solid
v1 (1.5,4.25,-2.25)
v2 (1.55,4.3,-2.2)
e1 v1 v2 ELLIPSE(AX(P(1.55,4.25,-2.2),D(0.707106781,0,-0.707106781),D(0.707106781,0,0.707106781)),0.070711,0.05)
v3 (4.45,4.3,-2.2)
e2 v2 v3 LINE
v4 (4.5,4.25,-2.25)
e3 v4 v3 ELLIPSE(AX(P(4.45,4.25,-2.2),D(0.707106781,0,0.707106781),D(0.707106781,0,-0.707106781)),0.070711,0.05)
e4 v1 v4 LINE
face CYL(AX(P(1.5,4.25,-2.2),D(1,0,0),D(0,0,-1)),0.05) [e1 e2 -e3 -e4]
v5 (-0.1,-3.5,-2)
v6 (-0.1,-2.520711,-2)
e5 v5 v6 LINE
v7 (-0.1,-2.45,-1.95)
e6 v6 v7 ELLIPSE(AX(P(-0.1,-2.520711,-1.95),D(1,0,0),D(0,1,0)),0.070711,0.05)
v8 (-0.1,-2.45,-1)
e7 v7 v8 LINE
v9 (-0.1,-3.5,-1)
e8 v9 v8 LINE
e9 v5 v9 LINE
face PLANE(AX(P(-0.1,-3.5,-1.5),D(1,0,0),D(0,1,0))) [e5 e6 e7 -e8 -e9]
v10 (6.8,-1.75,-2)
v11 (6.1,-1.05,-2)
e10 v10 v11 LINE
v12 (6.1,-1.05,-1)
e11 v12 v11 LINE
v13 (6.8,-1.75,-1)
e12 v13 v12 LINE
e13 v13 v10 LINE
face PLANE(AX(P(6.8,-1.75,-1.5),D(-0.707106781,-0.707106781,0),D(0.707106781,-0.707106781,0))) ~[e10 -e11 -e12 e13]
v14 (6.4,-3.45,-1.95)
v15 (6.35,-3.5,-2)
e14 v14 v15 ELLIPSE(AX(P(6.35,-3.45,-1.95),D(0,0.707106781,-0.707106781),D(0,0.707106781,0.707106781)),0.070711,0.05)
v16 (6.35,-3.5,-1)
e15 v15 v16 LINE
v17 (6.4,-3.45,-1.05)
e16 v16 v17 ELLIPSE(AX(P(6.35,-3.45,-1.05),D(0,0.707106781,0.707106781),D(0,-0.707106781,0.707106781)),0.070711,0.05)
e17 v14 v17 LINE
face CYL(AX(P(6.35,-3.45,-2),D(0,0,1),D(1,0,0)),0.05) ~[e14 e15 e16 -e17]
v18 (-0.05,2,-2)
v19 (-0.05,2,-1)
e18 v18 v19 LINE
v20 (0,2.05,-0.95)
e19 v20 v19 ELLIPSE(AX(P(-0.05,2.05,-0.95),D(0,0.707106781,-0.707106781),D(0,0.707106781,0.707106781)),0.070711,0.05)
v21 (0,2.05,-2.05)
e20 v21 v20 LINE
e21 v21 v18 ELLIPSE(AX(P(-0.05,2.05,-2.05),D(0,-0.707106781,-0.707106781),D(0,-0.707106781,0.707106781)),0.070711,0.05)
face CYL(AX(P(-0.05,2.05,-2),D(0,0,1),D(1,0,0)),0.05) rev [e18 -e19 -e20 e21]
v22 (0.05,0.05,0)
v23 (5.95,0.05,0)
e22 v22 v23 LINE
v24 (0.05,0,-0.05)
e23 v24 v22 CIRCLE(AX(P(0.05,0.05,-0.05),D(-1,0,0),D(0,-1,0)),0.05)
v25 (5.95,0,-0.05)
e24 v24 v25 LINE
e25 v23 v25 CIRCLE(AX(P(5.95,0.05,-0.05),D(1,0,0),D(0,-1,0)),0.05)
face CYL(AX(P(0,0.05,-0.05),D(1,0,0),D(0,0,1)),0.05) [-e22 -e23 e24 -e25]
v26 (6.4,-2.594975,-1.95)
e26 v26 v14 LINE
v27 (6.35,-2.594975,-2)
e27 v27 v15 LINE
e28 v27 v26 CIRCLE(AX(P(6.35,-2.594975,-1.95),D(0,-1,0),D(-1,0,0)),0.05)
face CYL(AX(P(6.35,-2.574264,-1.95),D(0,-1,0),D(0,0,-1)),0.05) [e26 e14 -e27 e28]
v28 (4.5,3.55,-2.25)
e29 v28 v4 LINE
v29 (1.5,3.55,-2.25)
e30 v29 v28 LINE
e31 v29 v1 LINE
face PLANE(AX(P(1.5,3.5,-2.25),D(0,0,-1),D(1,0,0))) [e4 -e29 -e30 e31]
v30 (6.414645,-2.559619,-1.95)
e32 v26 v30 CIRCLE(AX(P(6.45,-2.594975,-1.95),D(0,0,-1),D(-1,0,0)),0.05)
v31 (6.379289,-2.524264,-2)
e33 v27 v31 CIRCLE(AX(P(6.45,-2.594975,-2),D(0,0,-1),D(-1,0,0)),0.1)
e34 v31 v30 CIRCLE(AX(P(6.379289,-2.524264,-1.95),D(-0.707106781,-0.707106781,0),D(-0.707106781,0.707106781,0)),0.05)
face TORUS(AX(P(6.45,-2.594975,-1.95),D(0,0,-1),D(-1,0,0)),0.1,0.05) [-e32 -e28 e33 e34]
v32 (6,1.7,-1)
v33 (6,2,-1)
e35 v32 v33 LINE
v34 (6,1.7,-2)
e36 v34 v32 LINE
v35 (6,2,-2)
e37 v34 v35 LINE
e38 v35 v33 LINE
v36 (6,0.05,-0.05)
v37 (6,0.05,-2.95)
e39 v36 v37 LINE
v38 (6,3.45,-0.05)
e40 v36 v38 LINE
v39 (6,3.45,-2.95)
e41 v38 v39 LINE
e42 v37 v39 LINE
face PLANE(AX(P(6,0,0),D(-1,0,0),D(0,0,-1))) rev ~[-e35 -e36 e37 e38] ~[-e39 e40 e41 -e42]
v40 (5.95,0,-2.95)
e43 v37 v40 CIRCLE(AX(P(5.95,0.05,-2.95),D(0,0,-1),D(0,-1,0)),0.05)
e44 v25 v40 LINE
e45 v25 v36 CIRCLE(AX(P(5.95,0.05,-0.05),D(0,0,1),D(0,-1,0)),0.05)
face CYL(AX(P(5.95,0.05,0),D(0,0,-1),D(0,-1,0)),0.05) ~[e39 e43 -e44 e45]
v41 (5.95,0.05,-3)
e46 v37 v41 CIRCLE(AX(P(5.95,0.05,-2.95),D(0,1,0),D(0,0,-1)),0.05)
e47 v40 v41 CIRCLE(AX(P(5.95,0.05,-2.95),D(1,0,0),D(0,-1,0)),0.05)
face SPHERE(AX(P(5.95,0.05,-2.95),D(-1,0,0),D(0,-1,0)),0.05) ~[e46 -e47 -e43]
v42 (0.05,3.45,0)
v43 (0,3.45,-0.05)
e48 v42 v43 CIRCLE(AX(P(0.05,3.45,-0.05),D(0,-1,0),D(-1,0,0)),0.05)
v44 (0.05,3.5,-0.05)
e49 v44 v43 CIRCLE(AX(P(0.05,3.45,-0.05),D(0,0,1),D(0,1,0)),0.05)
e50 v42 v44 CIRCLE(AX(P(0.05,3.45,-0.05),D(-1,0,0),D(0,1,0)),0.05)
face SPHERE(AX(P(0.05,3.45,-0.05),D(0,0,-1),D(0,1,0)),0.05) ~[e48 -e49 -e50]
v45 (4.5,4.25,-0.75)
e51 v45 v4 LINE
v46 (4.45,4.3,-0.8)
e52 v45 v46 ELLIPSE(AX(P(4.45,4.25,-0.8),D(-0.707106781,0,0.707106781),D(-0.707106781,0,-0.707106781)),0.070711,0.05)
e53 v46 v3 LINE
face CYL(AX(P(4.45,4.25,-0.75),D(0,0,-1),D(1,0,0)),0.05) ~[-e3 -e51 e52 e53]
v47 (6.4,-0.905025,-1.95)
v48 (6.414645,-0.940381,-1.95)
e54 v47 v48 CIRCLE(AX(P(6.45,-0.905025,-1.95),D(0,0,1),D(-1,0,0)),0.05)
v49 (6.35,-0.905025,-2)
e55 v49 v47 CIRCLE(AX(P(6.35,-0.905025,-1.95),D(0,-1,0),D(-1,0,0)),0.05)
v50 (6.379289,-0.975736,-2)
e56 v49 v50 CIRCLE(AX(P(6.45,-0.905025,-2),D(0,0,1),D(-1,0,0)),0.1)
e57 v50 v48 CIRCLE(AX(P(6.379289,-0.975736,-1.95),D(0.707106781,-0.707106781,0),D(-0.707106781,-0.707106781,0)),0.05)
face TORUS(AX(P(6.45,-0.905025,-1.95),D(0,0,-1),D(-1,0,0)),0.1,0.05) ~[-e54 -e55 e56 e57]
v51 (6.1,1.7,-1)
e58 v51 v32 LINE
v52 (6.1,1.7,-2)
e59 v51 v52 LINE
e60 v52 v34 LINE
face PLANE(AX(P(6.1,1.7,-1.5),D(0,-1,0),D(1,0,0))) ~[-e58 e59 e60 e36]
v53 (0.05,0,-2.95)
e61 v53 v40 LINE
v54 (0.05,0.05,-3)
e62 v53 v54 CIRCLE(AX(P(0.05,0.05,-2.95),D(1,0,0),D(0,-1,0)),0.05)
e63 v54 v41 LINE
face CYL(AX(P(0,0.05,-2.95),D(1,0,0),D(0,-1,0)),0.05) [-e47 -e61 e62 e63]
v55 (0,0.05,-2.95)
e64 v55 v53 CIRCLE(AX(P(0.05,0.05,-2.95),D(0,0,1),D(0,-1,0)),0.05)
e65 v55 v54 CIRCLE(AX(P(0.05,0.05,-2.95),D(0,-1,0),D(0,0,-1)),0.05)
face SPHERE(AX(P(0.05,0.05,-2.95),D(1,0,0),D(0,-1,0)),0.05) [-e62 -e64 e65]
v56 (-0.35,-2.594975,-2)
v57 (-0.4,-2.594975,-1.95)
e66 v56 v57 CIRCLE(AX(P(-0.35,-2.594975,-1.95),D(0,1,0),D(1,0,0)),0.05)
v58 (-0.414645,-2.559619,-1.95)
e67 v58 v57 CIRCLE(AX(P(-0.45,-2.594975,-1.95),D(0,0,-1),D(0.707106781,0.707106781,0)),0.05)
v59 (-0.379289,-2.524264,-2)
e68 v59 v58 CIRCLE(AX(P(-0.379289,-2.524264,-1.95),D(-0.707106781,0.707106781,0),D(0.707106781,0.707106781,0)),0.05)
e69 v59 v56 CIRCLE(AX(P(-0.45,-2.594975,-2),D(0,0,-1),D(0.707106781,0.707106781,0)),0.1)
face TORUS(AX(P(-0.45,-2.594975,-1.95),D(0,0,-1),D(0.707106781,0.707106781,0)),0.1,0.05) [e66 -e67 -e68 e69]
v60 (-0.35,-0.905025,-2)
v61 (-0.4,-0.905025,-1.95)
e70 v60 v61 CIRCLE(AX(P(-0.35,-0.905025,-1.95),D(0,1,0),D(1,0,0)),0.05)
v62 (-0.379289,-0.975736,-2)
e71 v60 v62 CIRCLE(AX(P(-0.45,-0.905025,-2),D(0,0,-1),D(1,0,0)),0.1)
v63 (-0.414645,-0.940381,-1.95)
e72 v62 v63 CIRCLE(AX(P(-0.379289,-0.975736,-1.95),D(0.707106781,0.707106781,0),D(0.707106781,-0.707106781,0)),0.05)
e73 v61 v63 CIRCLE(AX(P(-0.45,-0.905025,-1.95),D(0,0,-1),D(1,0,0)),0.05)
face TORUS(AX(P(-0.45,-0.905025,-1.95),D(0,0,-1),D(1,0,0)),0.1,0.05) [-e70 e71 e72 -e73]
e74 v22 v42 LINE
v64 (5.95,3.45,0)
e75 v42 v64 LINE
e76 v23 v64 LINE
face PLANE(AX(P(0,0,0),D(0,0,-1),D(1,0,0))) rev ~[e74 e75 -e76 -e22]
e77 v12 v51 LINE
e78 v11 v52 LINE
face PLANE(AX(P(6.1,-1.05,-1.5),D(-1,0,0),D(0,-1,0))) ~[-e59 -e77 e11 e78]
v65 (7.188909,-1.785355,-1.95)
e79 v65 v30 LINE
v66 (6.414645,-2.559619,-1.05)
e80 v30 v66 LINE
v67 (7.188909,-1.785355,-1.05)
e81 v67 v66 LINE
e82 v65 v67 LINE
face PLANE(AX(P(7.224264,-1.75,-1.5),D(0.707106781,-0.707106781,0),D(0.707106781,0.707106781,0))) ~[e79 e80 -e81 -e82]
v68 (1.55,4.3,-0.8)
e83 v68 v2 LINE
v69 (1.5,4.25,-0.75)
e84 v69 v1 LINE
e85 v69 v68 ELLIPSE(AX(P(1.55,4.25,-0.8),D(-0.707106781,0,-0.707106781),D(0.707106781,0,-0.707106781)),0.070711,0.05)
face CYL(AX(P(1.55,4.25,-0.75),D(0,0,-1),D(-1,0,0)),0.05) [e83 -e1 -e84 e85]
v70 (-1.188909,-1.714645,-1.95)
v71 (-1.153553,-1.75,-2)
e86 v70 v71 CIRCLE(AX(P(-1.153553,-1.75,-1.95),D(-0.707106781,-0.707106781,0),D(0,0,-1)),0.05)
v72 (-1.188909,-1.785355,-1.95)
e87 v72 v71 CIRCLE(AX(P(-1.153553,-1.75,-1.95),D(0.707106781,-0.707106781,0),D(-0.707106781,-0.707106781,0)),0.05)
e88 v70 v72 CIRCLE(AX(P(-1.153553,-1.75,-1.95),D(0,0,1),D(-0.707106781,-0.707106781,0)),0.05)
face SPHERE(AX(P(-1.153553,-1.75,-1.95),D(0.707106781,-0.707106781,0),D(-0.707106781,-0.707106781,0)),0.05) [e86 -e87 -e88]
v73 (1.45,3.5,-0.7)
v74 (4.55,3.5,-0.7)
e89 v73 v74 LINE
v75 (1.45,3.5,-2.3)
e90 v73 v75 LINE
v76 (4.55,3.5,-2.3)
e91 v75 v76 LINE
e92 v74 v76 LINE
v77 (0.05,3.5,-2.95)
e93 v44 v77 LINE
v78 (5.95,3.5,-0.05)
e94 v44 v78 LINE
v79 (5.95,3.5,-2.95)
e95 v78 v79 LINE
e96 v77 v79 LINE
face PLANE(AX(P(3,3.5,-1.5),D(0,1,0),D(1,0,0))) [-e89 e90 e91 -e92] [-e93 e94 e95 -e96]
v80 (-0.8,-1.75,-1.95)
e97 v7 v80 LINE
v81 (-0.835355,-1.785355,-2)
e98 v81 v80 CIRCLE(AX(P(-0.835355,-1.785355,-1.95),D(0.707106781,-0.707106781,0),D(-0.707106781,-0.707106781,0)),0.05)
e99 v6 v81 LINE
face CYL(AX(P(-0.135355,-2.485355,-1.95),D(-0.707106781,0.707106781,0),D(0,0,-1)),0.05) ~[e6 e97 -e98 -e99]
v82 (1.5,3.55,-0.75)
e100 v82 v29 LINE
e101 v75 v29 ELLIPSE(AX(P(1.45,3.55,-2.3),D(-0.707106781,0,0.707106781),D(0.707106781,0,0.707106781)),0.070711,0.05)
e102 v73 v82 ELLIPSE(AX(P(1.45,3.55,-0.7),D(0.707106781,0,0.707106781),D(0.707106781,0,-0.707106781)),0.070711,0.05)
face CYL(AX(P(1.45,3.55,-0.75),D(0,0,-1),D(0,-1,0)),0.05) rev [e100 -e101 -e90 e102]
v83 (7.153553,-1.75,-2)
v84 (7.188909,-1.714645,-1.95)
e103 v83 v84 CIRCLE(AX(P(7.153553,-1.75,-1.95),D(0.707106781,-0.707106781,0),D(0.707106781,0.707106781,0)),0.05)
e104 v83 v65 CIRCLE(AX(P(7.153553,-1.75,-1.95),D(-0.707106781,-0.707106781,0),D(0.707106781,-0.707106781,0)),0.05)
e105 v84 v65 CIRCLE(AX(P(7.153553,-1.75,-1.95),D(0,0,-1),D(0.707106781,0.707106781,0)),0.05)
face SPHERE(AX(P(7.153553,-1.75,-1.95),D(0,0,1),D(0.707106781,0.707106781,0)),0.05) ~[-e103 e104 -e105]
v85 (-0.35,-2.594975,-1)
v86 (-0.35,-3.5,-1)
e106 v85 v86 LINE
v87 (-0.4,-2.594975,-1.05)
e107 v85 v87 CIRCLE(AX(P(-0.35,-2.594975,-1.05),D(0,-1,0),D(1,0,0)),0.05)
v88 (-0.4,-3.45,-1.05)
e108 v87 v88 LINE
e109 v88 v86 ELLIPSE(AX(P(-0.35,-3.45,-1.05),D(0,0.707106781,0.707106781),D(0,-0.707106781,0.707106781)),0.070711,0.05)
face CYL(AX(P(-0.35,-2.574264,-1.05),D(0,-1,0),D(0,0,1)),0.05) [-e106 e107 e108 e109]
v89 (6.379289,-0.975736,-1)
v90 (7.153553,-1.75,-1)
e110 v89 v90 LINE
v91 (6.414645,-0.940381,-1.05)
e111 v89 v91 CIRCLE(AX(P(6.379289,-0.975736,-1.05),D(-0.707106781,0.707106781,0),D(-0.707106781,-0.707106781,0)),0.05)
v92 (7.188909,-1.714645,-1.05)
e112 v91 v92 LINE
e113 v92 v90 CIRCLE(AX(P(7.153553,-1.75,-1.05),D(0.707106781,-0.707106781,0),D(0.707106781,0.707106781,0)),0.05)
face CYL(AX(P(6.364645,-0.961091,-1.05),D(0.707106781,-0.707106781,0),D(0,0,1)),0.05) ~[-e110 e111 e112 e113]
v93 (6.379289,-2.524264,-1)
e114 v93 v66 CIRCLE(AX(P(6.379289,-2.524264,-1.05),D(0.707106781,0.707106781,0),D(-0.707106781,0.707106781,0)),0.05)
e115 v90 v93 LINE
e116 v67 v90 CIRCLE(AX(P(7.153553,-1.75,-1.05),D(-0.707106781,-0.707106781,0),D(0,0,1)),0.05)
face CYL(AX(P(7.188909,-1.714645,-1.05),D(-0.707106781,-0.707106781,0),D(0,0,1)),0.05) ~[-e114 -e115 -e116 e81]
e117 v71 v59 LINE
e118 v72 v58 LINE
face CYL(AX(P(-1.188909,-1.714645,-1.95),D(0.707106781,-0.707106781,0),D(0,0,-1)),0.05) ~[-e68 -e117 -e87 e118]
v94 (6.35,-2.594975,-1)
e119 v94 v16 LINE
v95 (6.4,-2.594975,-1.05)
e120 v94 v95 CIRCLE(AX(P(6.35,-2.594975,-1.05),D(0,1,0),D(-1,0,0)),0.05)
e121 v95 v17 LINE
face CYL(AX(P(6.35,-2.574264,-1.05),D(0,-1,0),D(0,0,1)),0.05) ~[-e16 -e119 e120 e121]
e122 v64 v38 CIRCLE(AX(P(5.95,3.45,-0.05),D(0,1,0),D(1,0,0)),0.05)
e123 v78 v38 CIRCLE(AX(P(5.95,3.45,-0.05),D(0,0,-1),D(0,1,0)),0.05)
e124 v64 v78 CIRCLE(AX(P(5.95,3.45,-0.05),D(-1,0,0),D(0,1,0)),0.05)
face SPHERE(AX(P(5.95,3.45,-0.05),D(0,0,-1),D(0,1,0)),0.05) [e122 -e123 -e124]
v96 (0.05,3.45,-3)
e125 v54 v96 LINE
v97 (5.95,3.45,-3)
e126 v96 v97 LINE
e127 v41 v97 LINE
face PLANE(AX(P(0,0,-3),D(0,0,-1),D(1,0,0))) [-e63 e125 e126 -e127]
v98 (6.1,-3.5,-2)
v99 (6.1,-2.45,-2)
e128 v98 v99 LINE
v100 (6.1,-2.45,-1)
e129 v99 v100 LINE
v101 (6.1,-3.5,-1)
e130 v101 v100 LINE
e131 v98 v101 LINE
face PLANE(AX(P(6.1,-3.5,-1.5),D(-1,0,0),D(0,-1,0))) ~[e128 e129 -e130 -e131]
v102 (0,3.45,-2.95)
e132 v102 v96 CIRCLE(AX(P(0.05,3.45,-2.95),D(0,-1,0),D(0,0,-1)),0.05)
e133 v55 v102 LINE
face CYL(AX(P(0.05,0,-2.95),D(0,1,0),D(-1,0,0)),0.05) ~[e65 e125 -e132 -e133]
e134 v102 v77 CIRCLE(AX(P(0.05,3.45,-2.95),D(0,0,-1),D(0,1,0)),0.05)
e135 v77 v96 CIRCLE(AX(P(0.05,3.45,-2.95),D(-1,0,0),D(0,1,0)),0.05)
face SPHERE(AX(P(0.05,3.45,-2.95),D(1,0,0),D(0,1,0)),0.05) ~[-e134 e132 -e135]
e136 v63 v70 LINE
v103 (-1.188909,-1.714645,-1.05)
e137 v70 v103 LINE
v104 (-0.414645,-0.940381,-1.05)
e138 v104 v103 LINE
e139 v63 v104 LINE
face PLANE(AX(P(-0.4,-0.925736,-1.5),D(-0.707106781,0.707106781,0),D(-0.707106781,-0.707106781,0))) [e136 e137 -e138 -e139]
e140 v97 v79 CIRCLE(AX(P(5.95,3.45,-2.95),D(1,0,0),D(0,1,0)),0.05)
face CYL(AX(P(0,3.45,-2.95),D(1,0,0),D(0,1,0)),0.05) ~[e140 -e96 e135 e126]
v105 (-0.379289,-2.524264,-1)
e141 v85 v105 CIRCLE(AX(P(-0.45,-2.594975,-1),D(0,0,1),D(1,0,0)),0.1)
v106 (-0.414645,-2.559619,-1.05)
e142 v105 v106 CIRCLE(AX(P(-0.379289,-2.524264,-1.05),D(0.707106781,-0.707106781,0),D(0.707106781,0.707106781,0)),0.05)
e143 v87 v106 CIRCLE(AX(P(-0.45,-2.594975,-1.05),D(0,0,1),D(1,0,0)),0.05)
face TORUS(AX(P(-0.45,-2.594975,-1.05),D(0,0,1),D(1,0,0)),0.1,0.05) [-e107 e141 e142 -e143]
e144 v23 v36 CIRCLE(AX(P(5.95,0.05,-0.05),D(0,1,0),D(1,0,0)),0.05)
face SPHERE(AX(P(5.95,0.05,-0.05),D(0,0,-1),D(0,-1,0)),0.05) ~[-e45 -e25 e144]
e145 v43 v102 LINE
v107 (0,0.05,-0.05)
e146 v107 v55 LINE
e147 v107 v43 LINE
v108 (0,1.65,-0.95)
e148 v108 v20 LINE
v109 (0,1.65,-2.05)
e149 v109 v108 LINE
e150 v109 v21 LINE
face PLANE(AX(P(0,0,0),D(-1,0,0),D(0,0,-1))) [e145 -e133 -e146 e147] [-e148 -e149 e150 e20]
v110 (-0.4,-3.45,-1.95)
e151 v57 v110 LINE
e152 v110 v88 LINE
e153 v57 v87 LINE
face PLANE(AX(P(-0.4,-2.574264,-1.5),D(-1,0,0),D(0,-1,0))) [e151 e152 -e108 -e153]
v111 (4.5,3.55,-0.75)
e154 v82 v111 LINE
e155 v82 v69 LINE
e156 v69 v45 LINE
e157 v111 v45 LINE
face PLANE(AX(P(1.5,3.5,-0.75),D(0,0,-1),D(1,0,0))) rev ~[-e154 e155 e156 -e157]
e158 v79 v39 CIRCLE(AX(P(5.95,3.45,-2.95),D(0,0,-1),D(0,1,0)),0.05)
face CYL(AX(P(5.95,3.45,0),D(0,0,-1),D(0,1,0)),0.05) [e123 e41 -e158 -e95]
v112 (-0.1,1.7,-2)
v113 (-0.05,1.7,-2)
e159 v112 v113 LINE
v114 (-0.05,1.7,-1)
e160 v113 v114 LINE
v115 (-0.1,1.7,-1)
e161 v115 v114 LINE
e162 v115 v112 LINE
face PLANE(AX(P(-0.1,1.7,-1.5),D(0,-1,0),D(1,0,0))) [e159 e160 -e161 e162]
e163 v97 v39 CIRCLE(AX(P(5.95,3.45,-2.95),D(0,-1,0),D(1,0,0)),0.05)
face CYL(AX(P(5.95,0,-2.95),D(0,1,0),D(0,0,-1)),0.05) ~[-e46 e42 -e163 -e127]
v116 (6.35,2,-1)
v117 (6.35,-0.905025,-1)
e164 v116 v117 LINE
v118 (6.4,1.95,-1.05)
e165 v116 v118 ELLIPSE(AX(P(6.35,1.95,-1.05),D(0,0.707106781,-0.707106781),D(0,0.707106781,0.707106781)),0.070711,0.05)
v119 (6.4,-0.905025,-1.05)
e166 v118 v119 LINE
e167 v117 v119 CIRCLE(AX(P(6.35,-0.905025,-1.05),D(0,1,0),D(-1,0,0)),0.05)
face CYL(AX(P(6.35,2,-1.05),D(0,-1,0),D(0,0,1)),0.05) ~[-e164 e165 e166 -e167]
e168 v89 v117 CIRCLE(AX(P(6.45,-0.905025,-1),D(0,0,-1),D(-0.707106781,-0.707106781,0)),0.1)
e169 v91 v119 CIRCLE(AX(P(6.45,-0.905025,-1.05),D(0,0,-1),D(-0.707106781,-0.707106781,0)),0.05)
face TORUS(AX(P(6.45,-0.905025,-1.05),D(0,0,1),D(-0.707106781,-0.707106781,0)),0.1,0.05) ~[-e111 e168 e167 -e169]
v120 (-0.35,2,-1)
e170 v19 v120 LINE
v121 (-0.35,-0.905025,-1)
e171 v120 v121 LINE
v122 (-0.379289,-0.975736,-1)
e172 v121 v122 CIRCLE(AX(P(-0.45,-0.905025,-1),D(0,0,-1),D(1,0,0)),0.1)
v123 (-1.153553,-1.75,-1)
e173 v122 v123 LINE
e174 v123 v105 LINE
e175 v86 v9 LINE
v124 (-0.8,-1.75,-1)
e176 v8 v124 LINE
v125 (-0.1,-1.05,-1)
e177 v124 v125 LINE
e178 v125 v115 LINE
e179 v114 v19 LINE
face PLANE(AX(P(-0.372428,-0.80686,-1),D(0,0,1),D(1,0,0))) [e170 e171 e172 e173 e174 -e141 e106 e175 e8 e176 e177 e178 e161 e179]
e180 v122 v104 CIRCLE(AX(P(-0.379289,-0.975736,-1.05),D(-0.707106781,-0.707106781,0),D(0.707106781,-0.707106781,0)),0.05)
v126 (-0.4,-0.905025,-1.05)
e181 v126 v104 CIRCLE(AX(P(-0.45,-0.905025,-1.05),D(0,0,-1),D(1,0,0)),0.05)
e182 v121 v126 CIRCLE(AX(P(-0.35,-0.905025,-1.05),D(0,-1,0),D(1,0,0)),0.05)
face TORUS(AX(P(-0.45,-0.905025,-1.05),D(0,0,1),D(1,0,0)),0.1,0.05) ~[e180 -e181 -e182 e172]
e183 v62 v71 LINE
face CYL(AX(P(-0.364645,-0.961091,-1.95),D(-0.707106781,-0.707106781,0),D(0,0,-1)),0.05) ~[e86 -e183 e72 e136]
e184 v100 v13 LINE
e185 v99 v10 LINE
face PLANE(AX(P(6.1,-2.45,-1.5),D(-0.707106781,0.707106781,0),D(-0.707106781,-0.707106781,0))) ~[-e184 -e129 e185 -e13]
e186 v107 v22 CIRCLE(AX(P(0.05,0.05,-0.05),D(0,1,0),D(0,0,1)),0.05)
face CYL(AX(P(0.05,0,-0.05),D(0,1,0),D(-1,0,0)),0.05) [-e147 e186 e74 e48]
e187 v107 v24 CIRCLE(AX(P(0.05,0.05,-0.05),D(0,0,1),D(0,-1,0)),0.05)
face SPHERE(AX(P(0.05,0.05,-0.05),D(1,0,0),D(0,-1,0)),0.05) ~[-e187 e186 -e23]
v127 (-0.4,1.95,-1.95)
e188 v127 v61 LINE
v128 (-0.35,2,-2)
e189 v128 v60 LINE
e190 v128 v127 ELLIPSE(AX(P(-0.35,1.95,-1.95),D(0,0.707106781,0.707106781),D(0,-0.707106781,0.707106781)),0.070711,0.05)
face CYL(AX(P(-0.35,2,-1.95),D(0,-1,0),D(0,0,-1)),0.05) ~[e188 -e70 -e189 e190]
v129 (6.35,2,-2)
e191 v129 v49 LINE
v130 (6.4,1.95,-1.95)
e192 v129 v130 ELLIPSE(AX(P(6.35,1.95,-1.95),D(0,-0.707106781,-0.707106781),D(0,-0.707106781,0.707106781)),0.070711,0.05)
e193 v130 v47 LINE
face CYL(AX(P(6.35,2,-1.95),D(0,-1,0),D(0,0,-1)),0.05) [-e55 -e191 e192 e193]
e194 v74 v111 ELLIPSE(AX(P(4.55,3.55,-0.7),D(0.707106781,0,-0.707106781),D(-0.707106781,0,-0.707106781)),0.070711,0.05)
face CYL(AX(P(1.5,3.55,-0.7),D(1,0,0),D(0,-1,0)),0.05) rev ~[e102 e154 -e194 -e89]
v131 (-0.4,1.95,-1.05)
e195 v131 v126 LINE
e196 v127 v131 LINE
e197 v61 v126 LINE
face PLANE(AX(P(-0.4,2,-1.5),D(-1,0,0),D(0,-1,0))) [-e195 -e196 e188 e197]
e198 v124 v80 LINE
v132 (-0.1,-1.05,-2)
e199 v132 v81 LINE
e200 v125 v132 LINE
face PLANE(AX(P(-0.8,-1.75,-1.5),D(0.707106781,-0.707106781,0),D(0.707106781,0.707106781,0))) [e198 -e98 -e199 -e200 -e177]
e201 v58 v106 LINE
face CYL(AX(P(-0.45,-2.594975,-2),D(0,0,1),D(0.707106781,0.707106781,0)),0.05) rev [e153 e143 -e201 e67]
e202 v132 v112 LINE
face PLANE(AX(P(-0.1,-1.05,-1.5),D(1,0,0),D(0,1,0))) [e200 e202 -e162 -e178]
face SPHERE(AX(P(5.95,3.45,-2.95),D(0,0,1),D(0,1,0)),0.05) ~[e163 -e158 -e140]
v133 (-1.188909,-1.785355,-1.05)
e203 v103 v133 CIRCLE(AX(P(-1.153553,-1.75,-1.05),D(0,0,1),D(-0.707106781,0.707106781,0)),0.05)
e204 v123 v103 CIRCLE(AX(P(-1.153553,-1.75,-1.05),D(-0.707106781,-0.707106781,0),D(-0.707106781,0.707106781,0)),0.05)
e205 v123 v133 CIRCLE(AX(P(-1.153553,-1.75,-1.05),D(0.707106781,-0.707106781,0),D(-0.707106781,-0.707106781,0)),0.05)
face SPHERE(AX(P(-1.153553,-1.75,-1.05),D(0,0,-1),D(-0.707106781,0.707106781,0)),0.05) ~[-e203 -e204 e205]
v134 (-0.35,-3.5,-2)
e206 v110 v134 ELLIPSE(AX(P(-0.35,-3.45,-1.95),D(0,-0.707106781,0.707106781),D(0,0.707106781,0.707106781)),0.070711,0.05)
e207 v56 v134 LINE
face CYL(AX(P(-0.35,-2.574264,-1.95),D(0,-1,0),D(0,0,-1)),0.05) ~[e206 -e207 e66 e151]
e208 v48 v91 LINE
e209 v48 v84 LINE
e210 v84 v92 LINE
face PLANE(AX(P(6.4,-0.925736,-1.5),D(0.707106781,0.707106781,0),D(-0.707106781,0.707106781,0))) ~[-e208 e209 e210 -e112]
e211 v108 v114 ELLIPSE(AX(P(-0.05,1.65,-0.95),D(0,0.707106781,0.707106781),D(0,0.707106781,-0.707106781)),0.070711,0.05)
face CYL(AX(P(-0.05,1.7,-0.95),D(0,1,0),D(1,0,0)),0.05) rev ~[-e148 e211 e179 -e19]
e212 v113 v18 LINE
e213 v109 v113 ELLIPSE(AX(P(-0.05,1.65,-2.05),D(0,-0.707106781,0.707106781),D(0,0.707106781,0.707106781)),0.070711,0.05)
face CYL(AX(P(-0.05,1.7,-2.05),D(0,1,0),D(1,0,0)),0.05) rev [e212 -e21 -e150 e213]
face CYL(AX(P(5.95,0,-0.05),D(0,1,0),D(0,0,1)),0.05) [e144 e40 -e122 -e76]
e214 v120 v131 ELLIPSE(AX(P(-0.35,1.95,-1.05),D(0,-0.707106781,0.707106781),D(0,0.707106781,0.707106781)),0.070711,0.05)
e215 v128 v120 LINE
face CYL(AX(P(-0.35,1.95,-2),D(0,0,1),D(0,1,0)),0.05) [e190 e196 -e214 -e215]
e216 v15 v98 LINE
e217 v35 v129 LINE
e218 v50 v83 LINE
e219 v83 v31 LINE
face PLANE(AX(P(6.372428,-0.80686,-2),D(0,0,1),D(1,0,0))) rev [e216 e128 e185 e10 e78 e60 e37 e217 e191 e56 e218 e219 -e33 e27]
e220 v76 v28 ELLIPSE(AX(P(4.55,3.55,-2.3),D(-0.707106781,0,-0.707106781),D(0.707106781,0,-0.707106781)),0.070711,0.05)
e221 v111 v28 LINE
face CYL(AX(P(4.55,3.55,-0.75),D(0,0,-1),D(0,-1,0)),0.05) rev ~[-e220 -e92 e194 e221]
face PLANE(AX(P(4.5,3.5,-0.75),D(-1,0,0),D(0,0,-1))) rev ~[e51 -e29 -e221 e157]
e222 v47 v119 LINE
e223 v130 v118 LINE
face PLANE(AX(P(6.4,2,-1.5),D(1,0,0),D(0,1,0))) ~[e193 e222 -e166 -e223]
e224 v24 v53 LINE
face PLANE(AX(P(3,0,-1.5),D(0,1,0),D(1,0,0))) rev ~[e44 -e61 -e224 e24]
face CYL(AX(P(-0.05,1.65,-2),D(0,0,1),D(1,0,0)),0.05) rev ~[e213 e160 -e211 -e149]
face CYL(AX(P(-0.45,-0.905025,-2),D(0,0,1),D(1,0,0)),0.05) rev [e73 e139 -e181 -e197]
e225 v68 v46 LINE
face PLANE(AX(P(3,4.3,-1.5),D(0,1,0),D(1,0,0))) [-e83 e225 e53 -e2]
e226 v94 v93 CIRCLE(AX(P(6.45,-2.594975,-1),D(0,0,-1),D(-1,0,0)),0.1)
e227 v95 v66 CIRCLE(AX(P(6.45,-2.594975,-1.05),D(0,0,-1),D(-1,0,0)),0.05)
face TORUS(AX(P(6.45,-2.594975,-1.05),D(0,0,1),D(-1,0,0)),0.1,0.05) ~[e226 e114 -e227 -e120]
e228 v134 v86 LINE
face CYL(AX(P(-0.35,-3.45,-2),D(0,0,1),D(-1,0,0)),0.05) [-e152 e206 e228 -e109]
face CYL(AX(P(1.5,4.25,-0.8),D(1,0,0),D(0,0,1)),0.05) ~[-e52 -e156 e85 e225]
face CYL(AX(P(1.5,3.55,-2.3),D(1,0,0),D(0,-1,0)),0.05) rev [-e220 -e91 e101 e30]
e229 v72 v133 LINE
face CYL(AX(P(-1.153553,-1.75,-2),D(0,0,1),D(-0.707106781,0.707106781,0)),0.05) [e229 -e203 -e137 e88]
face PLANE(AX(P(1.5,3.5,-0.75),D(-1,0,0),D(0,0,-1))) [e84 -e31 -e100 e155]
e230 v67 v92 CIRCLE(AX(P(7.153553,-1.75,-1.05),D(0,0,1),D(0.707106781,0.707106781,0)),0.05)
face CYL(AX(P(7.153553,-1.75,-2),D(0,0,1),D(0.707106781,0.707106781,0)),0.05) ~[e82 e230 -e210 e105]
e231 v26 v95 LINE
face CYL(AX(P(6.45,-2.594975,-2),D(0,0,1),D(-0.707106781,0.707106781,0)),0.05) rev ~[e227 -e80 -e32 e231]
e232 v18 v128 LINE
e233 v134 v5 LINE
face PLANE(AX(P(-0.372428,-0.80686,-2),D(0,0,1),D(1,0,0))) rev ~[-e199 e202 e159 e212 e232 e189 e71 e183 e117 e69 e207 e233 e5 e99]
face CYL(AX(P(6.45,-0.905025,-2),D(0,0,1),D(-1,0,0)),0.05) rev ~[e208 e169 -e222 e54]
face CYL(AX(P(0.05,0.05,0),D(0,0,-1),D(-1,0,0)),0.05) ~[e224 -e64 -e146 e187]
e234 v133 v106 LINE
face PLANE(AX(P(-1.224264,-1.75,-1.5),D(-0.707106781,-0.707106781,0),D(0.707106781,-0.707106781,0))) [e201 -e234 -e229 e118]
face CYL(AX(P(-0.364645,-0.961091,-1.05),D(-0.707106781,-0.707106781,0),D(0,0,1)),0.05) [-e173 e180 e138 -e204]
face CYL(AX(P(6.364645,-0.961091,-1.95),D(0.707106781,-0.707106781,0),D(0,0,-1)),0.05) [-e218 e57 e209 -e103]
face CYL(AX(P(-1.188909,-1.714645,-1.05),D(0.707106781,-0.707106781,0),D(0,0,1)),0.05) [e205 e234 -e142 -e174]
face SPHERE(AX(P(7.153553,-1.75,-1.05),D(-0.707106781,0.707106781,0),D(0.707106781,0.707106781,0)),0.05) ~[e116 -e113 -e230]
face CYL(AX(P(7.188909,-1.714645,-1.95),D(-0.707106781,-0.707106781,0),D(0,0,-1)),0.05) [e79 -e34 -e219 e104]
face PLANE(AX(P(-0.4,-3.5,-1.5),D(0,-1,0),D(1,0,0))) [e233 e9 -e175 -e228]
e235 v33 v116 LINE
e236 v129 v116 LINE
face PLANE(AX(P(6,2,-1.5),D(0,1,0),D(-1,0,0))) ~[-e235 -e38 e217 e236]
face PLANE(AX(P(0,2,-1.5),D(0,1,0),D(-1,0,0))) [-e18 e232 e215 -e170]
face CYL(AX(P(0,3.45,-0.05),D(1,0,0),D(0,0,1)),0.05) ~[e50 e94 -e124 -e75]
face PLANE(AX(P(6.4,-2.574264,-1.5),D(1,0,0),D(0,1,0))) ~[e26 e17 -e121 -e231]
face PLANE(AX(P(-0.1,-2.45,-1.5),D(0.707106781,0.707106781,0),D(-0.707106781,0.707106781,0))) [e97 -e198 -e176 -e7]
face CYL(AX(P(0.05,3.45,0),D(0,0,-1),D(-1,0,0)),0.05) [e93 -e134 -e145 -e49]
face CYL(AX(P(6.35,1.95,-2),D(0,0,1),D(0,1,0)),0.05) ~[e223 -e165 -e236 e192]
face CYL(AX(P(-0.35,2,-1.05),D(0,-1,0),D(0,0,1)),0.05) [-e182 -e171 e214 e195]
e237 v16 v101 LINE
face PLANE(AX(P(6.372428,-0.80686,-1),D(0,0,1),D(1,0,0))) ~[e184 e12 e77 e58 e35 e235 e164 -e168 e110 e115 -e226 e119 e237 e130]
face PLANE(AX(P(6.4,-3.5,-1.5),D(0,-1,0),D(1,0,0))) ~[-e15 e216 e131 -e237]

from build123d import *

# Parameters (mm, degrees)
SKETCH1_W           = 6
SKETCH1_H           = 3
BOSS_EXTRUDE1_DEPTH = 3.5
BOSS_EXTRUDE2_DEPTH = 0.5
SKETCH3_W           = 3
SKETCH3_H           = 1.5
BOSS_EXTRUDE3_DEPTH = 0.8
FILLET1_R           = 0.05


with BuildPart() as part:
    # Sketch1 → Boss-Extrude1 (new body)
    with BuildSketch(Plane(origin=(0, 0, 0), x_dir=(1, 0, 0), z_dir=(0, 1, 0))):
        with Locations((3, 1.5)):
            Rectangle(SKETCH1_W, SKETCH1_H)
    extrude(amount=BOSS_EXTRUDE1_DEPTH)

    # Sketch2 → Boss-Extrude2 (add, symmetric)
    with BuildSketch(Plane.XY.offset(-1.5)):
        Polygon((-0.1, 1.7), (0, 1.7), (0, 2), (-0.4, 2), (-0.4, -0.925735931), (-1.224264069, -1.75), (-0.4, -2.574264069), (-0.4, -3.5), (-0.1, -3.5), (-0.1, -2.45), (-0.8, -1.75), (-0.1, -1.05), (-0.1, -0.722730952), align=None)
    boss_extrude2 = extrude(amount=BOSS_EXTRUDE2_DEPTH, both=True)

    # Mirror1: Boss-Extrude2 across plane
    add(boss_extrude2.mirror(Plane.ZY.offset(-3)))

    # Sketch3 → Boss-Extrude3 (add)
    with BuildSketch(Plane(origin=(0, 3.5, 0), x_dir=(1, 0, 0), z_dir=(0, 1, 0))):
        with Locations((3, 1.5)):
            Rectangle(SKETCH3_W, SKETCH3_H)
    extrude(amount=BOSS_EXTRUDE3_DEPTH)

    # Fillet1
    fillet1_edges = [part.edges().sort_by_distance(p)[0] for p in [
        (6, 3.5, -1.5),
        (3, 3.5, -3),
        (-0.4, -3.5, -1.5),
        (-0.4, -3.037132034, -2),
        (-0.4, -2.574264069, -1.5),
        (-0.812132034, -2.162132034, -2),
        (-1.224264069, -1.75, -1.5),
        (-0.812132034, -1.337867966, -2),
        (-0.4, -0.925735931, -1.5),
        (-0.4, 0.537132034, -2),
        (-0.4, 2, -1.5),
        (0, 2, -1.5),
        (0, 1.85, -1),
        (0, 1.7, -1.5),
        (0, 1.85, -2),
        (-0.45, -2.1, -2),
        (-0.4, -3.037132034, -1),
        (-0.4, 0.537132034, -1),
        (-0.812132034, -1.337867966, -1),
        (-0.812132034, -2.162132034, -1),
        (0, 3.5, -1.5),
        (3, 0, -3),
        (6.4, -2.574264069, -1.5),
        (6.4, -3.037132034, -1),
        (6.4, -3.5, -1.5),
        (6.4, 2, -1.5),
        (6.4, 0.537132034, -1),
        (6, 0, -1.5),
        (6.4, -0.925735931, -1.5),
        (6.812132034, -1.337867966, -1),
        (7.224264069, -1.75, -1.5),
        (6.812132034, -2.162132034, -1),
        (6.4, -3.037132034, -2),
        (6.4, 0.537132034, -2),
        (6.812132034, -1.337867966, -2),
        (6.812132034, -2.162132034, -2),
        (3, 0, 0),
        (0, 0, -1.5),
        (3, 3.5, 0),
        (0, 1.75, -3),
        (4.5, 3.5, -1.5),
        (3, 3.5, -2.25),
        (6, 1.75, -3),
        (1.5, 3.5, -1.5),
        (3, 3.5, -0.75),
        (6, 1.75, 0),
        (4.5, 4.3, -1.5),
        (3, 4.3, -2.25),
        (1.5, 4.3, -1.5),
        (3, 4.3, -0.75),
        (0, 1.75, 0),
    ]]
    fillet(fillet1_edges, radius=FILLET1_R)


solid = part.part
